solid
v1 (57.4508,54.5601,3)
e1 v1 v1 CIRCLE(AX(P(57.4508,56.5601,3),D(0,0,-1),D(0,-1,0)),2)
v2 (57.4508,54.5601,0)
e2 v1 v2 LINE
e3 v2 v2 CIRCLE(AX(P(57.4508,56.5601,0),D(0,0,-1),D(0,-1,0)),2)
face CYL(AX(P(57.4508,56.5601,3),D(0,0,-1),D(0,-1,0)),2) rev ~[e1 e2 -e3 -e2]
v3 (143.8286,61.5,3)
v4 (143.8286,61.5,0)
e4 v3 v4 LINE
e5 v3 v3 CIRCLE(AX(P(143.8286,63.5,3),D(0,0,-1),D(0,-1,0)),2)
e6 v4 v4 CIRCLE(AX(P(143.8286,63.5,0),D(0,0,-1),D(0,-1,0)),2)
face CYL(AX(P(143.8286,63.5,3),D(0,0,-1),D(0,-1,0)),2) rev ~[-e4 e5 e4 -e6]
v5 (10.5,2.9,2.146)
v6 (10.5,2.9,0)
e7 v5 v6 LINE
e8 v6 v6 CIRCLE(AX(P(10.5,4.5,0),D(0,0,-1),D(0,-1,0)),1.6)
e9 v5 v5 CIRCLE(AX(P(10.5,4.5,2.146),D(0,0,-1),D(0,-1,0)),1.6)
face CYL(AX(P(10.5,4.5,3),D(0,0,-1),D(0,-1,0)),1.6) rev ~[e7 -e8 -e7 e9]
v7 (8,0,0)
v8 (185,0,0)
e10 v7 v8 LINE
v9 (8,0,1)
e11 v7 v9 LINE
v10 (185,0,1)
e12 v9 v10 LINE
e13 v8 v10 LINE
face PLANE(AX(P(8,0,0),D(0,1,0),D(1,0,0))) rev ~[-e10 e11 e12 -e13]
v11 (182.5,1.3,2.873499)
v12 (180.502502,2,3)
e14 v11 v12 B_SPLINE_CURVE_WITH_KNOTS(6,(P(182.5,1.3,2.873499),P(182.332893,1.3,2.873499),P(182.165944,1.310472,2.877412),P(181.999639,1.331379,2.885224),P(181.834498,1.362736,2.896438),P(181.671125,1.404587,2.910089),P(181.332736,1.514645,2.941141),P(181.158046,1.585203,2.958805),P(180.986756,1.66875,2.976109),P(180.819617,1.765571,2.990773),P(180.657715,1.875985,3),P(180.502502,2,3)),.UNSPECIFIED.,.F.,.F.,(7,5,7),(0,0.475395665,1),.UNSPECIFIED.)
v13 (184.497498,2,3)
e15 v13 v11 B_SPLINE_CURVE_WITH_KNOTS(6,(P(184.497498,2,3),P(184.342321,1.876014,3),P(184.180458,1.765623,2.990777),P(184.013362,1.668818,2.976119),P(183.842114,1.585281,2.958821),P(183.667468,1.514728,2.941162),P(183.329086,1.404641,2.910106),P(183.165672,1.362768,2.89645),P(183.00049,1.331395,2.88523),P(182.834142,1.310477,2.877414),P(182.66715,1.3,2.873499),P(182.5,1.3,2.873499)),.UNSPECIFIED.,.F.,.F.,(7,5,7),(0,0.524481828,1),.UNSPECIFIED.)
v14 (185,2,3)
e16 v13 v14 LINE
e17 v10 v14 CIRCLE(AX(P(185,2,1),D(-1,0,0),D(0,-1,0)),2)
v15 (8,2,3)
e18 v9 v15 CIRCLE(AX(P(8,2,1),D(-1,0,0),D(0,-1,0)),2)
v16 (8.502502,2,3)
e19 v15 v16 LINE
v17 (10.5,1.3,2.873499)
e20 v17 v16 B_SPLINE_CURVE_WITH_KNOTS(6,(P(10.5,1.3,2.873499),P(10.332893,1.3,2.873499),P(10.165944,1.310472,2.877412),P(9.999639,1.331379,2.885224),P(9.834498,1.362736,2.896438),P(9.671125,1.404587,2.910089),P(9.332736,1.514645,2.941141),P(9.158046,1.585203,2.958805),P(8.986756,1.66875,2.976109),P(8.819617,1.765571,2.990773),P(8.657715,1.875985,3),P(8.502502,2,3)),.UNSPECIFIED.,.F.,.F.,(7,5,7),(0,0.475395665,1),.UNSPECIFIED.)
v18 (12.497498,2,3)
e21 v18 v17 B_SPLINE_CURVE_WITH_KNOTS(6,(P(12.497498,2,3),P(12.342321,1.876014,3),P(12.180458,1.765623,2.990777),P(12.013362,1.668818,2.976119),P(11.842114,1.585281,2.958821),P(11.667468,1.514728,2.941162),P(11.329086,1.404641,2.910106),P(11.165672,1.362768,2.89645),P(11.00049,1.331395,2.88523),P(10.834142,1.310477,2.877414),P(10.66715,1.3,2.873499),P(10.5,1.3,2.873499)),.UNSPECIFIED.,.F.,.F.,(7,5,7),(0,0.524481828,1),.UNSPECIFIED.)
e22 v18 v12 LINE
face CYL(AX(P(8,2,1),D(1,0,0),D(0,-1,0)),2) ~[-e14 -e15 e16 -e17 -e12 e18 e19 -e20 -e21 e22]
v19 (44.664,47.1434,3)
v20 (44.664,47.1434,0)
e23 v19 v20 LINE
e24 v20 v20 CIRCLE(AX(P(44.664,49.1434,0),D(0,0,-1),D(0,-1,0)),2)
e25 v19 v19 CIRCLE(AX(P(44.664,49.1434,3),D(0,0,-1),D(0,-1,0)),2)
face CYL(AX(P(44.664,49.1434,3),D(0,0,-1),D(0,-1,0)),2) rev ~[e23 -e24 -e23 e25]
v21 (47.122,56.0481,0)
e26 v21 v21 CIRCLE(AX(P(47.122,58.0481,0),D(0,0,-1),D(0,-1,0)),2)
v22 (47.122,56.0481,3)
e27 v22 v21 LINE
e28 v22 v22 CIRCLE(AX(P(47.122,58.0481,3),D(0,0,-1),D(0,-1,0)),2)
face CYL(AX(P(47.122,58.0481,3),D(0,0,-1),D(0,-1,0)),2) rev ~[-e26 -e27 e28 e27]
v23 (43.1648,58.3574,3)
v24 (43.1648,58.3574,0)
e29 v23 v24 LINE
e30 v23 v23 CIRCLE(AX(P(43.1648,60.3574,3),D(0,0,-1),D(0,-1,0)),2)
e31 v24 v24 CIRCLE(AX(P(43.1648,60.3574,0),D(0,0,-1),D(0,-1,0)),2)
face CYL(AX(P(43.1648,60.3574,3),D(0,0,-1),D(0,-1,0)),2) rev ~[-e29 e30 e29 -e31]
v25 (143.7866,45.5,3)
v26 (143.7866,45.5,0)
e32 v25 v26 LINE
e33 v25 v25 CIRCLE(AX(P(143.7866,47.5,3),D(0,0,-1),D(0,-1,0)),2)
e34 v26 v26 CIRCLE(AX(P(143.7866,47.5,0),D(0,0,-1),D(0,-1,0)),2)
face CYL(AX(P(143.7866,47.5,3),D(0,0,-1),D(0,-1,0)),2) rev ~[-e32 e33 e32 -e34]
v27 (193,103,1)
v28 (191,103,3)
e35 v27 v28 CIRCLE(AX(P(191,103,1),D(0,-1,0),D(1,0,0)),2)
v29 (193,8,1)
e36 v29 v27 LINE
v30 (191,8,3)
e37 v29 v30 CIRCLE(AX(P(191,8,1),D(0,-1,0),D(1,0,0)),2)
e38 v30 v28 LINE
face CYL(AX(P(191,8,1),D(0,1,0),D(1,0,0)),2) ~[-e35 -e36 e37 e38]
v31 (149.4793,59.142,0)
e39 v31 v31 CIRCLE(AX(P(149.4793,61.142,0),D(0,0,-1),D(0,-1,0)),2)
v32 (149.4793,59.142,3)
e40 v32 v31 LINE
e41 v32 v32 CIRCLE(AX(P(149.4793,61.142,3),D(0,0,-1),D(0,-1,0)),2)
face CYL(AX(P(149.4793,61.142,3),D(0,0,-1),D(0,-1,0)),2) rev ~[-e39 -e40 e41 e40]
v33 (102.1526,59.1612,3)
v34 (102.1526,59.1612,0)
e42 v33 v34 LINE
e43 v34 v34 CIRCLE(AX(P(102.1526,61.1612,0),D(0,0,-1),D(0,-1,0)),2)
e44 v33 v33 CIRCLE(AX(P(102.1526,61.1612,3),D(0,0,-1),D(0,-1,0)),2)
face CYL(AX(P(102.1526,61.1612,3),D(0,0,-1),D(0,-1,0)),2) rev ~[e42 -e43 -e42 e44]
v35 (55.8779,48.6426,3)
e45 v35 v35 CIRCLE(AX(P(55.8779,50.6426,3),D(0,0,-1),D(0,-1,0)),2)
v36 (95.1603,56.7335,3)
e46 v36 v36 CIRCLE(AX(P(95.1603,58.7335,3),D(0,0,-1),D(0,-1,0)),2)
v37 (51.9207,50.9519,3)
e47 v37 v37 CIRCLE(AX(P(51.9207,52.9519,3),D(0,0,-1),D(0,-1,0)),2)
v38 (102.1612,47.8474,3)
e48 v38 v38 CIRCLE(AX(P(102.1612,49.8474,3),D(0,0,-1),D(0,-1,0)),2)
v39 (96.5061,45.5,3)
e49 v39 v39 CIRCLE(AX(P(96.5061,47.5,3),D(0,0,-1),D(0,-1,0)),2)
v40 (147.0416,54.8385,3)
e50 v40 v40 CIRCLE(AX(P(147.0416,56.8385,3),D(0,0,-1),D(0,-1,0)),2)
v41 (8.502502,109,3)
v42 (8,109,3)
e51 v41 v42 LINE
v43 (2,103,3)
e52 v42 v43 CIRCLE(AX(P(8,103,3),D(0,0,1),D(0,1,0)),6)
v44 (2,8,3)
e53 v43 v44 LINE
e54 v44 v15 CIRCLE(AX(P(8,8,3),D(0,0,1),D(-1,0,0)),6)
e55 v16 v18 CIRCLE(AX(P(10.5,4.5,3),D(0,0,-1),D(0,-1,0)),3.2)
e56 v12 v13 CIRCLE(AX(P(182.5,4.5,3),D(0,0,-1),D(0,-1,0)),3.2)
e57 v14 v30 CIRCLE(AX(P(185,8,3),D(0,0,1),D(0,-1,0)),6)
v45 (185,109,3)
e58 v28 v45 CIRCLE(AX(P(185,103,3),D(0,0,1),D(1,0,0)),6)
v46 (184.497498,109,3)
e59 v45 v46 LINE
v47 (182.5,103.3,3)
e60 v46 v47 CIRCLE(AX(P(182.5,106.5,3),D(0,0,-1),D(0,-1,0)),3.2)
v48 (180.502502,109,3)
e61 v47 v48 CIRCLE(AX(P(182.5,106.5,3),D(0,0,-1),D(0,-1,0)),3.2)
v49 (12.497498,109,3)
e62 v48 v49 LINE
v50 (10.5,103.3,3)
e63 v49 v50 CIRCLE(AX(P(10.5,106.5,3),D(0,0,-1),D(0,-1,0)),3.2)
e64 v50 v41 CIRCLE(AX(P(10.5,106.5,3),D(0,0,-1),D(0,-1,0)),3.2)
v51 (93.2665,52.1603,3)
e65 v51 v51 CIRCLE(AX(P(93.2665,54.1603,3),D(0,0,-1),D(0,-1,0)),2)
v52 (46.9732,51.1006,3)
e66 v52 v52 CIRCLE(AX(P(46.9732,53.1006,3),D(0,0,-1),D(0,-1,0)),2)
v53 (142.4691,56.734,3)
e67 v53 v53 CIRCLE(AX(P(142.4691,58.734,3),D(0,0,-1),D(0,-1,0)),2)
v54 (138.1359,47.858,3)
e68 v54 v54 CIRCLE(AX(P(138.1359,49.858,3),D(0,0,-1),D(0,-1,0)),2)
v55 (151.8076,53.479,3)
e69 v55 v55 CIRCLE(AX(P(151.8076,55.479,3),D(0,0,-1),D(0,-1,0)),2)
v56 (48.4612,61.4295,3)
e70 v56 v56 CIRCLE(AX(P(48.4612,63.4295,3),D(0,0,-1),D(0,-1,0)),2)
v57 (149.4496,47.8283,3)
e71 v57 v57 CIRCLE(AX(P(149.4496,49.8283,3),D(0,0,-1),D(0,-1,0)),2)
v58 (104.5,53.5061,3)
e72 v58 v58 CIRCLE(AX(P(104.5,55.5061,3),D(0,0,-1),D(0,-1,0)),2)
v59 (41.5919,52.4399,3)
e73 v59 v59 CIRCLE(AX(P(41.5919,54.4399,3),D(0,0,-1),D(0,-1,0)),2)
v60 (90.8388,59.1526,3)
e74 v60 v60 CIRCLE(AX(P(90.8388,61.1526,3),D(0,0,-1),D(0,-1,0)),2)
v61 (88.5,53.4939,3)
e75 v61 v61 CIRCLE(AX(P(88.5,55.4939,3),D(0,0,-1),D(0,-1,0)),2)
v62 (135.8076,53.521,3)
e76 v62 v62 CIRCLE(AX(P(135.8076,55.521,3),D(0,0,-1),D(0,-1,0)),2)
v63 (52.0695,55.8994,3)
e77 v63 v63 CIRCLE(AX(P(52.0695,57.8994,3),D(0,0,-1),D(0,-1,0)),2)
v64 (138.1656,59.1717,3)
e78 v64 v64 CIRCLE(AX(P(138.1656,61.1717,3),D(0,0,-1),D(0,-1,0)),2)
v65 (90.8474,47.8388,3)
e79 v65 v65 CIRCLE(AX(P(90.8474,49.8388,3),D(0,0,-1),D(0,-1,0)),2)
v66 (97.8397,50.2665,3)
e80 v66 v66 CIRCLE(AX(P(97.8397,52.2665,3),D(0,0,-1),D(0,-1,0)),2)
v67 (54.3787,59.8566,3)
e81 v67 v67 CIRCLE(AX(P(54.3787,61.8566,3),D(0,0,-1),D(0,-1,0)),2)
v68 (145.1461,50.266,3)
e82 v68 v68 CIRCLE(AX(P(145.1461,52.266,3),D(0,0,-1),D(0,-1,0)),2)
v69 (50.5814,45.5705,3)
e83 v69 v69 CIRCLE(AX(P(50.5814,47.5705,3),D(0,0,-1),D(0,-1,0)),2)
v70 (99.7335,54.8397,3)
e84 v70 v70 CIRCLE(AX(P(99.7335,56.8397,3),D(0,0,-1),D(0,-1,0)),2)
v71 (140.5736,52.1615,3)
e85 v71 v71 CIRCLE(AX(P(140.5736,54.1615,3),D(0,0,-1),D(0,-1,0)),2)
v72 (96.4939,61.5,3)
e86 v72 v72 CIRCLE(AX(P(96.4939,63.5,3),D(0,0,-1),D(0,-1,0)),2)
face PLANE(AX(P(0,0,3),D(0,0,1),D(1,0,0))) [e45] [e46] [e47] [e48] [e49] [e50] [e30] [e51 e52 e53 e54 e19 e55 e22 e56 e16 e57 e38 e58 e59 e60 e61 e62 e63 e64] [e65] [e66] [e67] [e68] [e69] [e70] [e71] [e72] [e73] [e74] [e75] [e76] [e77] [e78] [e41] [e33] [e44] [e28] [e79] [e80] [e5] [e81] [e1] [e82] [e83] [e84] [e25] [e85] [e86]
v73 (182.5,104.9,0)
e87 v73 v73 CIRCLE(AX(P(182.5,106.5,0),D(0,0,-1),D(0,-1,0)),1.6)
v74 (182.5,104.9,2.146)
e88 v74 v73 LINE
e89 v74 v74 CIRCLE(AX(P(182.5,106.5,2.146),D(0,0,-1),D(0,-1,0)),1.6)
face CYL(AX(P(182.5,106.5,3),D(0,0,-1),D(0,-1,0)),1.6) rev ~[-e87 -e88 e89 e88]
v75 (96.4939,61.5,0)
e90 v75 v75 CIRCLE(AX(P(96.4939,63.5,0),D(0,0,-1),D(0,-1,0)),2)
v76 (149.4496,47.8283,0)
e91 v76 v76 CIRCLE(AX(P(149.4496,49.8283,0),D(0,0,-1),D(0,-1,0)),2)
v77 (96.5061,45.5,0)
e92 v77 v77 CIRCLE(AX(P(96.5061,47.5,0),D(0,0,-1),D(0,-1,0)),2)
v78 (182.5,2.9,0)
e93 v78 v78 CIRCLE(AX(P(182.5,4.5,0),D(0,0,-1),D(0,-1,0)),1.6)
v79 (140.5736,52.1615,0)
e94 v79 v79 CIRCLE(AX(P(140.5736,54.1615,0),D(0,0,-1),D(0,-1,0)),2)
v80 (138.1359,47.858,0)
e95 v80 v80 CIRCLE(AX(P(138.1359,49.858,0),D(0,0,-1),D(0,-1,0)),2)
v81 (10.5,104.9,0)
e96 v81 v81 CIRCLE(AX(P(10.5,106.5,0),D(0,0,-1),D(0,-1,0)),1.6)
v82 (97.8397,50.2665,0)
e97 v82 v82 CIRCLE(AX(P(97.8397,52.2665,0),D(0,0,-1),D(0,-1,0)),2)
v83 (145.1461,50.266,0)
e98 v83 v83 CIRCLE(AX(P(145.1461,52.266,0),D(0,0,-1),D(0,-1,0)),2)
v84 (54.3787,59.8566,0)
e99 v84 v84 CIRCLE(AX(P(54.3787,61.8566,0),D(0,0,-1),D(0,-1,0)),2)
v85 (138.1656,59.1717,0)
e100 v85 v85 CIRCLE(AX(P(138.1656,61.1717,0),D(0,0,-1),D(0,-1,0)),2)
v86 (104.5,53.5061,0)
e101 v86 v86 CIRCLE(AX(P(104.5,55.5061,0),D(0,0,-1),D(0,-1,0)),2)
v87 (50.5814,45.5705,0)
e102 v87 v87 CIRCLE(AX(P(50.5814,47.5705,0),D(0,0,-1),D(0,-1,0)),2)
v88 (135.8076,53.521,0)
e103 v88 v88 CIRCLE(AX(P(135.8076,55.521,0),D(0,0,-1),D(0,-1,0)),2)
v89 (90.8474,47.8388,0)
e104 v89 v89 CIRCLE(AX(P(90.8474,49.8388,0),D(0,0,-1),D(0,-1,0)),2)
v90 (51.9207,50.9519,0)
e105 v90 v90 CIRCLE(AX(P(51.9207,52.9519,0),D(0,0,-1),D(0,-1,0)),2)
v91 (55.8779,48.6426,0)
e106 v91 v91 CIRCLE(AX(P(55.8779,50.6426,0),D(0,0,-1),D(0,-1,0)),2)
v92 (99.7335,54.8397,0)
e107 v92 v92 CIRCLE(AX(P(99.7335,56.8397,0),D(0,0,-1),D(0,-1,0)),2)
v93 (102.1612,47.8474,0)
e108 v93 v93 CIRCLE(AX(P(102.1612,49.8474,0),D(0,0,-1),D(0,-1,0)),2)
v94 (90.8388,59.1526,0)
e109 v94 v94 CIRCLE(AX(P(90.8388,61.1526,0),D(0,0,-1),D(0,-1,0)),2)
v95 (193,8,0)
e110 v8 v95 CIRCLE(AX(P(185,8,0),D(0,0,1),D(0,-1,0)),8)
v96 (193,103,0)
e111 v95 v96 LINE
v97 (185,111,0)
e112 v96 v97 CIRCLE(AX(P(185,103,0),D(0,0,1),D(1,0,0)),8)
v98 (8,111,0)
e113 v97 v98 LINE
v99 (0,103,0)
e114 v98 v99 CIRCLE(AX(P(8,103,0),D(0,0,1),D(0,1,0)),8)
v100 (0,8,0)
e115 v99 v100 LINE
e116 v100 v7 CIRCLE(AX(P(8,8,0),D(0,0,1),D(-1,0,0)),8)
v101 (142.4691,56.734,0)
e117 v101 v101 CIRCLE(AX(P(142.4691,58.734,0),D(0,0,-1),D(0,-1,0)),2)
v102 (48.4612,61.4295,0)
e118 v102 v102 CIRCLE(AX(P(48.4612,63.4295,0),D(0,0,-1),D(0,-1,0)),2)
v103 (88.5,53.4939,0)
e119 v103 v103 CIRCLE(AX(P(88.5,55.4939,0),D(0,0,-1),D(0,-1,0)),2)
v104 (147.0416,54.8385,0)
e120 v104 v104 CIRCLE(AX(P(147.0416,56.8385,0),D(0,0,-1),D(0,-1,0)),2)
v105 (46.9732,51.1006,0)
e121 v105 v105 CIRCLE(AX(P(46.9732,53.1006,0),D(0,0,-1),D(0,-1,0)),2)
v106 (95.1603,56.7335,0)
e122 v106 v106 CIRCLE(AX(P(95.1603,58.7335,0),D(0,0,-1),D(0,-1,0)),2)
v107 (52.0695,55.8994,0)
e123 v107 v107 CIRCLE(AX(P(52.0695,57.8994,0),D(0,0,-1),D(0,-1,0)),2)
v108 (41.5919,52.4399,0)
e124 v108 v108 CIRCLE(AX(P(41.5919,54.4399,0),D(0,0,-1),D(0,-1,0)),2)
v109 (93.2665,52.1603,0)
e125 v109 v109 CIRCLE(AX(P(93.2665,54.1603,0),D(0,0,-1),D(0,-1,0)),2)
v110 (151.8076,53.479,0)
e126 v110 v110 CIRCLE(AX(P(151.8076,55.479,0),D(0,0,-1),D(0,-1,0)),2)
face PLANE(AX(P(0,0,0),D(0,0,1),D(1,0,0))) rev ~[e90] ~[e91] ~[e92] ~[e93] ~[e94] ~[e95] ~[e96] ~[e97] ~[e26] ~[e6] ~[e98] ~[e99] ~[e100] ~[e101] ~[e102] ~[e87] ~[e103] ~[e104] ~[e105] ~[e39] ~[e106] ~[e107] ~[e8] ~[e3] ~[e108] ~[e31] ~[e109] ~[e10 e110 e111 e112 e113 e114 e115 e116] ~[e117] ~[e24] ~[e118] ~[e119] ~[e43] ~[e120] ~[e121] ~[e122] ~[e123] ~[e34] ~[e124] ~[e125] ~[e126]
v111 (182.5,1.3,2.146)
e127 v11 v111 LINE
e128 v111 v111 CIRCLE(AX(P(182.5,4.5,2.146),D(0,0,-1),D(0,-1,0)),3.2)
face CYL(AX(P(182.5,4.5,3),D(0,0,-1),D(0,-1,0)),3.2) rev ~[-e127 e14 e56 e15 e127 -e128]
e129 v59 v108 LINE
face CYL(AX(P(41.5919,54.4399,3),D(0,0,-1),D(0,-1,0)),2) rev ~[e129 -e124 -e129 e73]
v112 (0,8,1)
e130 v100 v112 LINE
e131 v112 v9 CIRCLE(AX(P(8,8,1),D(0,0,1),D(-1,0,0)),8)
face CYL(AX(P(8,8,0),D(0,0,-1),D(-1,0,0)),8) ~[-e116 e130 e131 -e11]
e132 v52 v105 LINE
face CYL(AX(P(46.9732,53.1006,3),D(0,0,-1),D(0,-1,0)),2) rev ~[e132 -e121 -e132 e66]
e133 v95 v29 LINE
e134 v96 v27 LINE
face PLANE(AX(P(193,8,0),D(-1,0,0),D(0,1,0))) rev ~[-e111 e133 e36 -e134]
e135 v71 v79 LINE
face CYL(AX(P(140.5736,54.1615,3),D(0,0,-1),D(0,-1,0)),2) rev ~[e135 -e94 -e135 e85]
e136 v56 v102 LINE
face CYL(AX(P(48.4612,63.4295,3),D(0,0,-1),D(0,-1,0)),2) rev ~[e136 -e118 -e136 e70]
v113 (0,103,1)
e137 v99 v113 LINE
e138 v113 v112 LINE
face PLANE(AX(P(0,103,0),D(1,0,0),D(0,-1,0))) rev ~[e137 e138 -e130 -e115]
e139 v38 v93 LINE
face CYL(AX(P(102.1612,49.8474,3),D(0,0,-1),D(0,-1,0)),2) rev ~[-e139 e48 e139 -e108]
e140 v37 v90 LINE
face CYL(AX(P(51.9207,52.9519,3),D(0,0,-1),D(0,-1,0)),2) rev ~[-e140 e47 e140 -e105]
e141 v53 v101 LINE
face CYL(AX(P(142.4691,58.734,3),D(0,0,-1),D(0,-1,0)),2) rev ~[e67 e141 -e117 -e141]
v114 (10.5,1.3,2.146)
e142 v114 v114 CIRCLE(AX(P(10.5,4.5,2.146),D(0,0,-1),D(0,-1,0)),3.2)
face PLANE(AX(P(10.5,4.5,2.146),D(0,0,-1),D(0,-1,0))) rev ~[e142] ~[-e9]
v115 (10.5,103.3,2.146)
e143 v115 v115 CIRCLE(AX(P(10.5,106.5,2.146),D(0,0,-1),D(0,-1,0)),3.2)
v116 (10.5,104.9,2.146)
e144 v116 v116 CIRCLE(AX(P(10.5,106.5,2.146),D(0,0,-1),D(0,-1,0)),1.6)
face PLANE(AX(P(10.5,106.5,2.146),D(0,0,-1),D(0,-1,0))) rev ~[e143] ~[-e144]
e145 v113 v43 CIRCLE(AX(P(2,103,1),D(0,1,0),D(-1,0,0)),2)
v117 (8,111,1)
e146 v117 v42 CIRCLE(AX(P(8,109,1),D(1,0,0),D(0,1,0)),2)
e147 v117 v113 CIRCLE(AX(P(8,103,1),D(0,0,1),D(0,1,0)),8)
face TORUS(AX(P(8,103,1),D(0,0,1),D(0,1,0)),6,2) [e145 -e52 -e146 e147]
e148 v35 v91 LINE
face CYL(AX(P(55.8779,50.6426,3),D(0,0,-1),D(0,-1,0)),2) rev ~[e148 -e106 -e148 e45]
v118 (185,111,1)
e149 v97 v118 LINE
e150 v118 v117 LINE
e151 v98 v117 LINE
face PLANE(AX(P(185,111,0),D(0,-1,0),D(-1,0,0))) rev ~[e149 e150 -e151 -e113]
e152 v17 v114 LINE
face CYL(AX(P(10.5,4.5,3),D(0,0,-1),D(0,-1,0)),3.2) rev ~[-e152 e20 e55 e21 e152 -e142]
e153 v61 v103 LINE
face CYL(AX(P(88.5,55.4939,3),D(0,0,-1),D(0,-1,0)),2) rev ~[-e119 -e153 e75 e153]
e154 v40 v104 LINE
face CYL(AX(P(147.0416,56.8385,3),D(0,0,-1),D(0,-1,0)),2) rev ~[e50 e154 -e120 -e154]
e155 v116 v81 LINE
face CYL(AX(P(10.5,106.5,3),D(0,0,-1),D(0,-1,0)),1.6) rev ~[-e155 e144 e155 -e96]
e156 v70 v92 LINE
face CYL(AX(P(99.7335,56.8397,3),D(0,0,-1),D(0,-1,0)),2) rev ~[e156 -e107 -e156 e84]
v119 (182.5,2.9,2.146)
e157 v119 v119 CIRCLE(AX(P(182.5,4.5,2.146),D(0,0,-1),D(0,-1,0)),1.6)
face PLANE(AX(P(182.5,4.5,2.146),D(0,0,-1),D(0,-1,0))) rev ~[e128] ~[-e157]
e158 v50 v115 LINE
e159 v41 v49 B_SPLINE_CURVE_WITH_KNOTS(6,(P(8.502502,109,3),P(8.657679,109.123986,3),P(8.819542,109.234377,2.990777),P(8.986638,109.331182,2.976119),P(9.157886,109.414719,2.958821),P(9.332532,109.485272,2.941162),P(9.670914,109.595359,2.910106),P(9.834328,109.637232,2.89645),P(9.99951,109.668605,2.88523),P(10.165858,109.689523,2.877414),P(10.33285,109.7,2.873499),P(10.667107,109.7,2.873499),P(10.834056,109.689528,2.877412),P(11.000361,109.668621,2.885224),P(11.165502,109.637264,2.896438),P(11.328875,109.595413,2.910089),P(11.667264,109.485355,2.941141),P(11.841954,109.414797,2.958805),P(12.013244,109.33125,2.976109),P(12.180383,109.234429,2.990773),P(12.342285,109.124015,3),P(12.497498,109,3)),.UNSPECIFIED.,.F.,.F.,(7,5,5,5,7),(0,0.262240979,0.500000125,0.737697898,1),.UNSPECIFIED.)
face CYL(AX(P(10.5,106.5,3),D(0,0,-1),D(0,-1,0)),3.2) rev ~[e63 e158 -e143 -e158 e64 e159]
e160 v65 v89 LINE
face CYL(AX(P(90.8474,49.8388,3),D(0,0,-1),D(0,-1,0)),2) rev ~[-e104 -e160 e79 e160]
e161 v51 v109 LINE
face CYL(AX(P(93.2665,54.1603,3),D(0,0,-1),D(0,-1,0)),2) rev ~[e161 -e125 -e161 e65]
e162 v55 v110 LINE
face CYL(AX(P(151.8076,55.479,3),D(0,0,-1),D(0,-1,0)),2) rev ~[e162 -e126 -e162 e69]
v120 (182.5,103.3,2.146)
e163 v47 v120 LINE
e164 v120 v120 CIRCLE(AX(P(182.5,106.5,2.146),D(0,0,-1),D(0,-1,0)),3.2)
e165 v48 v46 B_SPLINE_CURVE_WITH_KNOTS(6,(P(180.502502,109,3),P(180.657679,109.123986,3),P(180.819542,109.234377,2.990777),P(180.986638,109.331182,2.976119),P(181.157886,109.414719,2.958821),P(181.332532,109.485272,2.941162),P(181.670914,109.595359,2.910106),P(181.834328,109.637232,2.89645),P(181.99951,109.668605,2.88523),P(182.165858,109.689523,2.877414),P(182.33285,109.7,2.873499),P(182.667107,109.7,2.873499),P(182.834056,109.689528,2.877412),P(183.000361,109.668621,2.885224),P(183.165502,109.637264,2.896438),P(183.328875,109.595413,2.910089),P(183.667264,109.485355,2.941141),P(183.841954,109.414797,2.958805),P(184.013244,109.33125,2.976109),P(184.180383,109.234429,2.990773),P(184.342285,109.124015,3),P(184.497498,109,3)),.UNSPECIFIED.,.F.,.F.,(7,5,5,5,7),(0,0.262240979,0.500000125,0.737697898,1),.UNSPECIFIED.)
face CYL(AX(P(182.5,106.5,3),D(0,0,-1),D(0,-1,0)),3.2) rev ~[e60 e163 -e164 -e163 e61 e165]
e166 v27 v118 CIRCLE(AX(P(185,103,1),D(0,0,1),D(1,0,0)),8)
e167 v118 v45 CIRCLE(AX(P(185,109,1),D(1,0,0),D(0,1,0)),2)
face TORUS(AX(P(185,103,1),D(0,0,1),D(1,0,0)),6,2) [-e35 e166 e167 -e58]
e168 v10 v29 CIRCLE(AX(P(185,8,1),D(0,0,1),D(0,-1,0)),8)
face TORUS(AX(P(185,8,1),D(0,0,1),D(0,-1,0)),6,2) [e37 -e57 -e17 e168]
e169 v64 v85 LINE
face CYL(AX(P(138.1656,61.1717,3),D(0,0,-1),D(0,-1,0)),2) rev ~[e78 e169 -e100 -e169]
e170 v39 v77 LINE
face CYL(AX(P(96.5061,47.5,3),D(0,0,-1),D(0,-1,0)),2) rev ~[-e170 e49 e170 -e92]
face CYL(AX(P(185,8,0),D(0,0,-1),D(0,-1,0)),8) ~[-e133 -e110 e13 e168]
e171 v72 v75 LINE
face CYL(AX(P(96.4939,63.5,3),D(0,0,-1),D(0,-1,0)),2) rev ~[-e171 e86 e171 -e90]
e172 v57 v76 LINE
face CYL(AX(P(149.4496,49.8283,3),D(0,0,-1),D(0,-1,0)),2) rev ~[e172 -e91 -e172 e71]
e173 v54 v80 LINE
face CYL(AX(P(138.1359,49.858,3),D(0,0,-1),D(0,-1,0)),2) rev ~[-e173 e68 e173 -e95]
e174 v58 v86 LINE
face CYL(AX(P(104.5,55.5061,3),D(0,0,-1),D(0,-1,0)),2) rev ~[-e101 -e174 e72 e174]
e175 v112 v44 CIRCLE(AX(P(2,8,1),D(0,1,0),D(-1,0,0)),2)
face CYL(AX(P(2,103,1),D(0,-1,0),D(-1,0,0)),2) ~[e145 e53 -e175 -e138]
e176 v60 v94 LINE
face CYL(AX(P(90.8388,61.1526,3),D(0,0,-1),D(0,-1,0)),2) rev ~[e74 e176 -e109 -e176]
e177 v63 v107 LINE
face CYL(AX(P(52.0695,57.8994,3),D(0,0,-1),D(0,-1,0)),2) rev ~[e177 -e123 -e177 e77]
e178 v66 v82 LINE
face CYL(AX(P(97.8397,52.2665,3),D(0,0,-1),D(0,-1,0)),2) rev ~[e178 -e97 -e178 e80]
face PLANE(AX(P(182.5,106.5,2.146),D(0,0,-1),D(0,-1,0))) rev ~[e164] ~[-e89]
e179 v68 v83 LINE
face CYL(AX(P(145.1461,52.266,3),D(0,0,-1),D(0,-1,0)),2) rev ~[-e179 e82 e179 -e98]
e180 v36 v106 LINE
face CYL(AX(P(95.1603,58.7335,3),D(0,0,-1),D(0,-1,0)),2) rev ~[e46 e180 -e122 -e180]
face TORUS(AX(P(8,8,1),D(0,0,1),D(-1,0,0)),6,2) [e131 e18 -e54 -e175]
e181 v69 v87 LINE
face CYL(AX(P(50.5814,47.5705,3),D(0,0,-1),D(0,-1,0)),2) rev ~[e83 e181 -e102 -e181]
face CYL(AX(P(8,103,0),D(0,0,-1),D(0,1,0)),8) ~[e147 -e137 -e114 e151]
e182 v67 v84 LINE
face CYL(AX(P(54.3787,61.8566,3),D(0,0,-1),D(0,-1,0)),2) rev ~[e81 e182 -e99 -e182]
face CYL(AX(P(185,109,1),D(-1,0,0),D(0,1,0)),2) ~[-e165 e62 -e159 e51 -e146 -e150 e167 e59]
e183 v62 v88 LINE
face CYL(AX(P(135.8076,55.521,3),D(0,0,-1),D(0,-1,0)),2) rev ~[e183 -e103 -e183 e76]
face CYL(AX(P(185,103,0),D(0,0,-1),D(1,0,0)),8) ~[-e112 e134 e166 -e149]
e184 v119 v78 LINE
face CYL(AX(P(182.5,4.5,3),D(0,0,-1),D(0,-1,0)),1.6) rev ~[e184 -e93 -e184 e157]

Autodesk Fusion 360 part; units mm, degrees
sketch "Sketch1" plane through (0, 0, 0) normal (0, 0, 1) x (1, 0, 0)
  line L0 (8, 0) -> (185, 0)
  line L1 (193, 8) -> (193, 103)
  line L2 (185, 111) -> (8, 111)
  line L3 (0, 103) -> (0, 8)
  arc A0 (8, 111) -> (0, 103) centre (8, 103) ccw
  arc A1 (193, 103) -> (185, 111) centre (185, 103) ccw
  arc A2 (185, 0) -> (193, 8) centre (185, 8) ccw
  arc A3 (0, 8) -> (8, 0) centre (8, 8) ccw
  point P0 (193, 0)
  point P1 (0, 111)
  dimension "d1" = 193
  dimension "d2" = 111
  dimension "d3" = 8
  dimension "d4" = 8
  dimension "d5" = 8
  dimension "d6" = 8
extrude "Extrude1" add sketch "Sketch1" along normal blind 3
fillet "Fillet1" radius 2 8 edges at (193, 55.5, 3) (190.6569, 108.6569, 3) (96.5, 111, 3) (2.3431, 108.6569, 3) (0, 55.5, 3) (2.3431, 2.3431, 3) (96.5, 0, 3) (190.6569, 2.3431, 3)
sketch "Sketch2" plane through (0, 0, 3) normal (0, 0, 1) x (-1, 0, 0)
  line L0 (-191, -8) -> (-191, -103)
  arc A0 (-191, -103) -> (-185, -109) centre (-185, -103) ccw
  line L1 (-185, -109) -> (-8, -109)
  arc A1 (-8, -109) -> (-2, -103) centre (-8, -103) ccw
  line L2 (-2, -103) -> (-2, -8)
  arc A2 (-2, -8) -> (-8, -2) centre (-8, -8) ccw
  line L3 (-8, -2) -> (-185, -2)
  arc A3 (-185, -2) -> (-191, -8) centre (-185, -8) ccw
  line L4 (-8, -109) -> (-13, -109)
  line L5 (-13, -109) -> (-13, -104)
  line L6 (-13, -104) -> (-8, -104)
  line L7 (-8, -104) -> (-8, -109)
  circle A4 centre (-10.5, -106.5) radius 1.6
  line L8 (-185, -109) -> (-180, -109)
  line L9 (-180, -109) -> (-180, -104)
  line L10 (-180, -104) -> (-185, -104)
  line L11 (-185, -104) -> (-185, -109)
  circle A5 centre (-182.5, -106.5) radius 1.6
  line L12 (-185, -2) -> (-180, -2)
  line L13 (-180, -2) -> (-180, -7)
  line L14 (-180, -7) -> (-185, -7)
  line L15 (-185, -7) -> (-185, -2)
  circle A6 centre (-182.5, -4.5) radius 1.6
  line L16 (-8, -2) -> (-13, -2)
  line L17 (-13, -2) -> (-13, -7)
  line L18 (-13, -7) -> (-8, -7)
  line L19 (-8, -7) -> (-8, -2)
  circle A7 centre (-10.5, -4.5) radius 1.6
  point P0 (-10.5, -106.5)
  dimension "d11" = 5
  dimension "d12" = 5
  dimension "d13" = 3.2
  dimension "d14" = 5
  dimension "d15" = 5
  dimension "d16" = 3.2
  dimension "d17" = 5
  dimension "d18" = 5
  dimension "d19" = 3.2
  dimension "d20" = 5
  dimension "d21" = 5
  dimension "d22" = 3.2
hole "Hole1" at (10.5, 4.5, 3) at (10.5, 106.5, 3) at (182.5, 106.5, 3) at (182.5, 4.5, 3) direction (0, 0, -1) diameter 3.2 depth 7 tip angle 180
sketch "Sketch3" plane through (0, 0, 3) normal (0, 0, 1) x (-1, 0, 0)
  circle A0 centre (-182.5, -106.5) radius 1.6
  circle A1 centre (-10.5, -4.5) radius 1.6
  circle A2 centre (-10.5, -106.5) radius 1.6
  circle A3 centre (-182.5, -4.5) radius 1.6
  line L0 (-191, -8) -> (-191, -103)
  arc A4 (-191, -103) -> (-185, -109) centre (-185, -103) ccw
  line L1 (-185, -109) -> (-8, -109)
  arc A5 (-8, -109) -> (-2, -103) centre (-8, -103) ccw
  line L2 (-2, -103) -> (-2, -8)
  arc A6 (-2, -8) -> (-8, -2) centre (-8, -8) ccw
  line L3 (-8, -2) -> (-185, -2)
  arc A7 (-185, -2) -> (-191, -8) centre (-185, -8) ccw
  circle A8 centre (-10.5, -106.5) radius 3.2
  circle A9 centre (-182.5, -106.5) radius 3.2
  circle A10 centre (-182.5, -4.5) radius 3.2
  circle A11 centre (-10.5, -4.5) radius 3.2
  dimension "d26" = 6.4
  dimension "d27" = 6.4
  dimension "d28" = 6.4
  dimension "d29" = 6.4
hole "Hole2" at (182.5, 4.5, 3) at (10.5, 4.5, 3) at (182.5, 106.5, 3) at (10.5, 106.5, 3) direction (0, 0, -1) diameter 6.4 depth 0.854 tip angle 180
sketch "Sketch4" plane through (0, 0, 3) normal (0, 0, 1) x (-1, 0, 0)
  arc A0 (-180.5025, -109) -> (-184.4975, -109) centre (-182.5, -106.5) ccw
  line L0 (-180.5025, -109) -> (-12.4975, -109)
  arc A1 (-8.5025, -109) -> (-12.4975, -109) centre (-10.5, -106.5) ccw
  line L1 (-8.5025, -109) -> (-8, -109)
  arc A2 (-8, -109) -> (-2, -103) centre (-8, -103) ccw
  line L2 (-2, -103) -> (-2, -8)
  arc A3 (-2, -8) -> (-8, -2) centre (-8, -8) ccw
  line L3 (-8, -2) -> (-8.5025, -2)
  arc A4 (-12.4975, -2) -> (-8.5025, -2) centre (-10.5, -4.5) ccw
  line L4 (-12.4975, -2) -> (-180.5025, -2)
  arc A5 (-184.4975, -2) -> (-180.5025, -2) centre (-182.5, -4.5) ccw
  line L5 (-184.4975, -2) -> (-185, -2)
  arc A6 (-185, -2) -> (-191, -8) centre (-185, -8) ccw
  line L6 (-191, -8) -> (-191, -103)
  arc A7 (-191, -103) -> (-185, -109) centre (-185, -103) ccw
  line L7 (-185, -109) -> (-184.4975, -109)
  circle A8 centre (-41.5919, -54.4399) radius 2
  circle A9 centre (-44.664, -49.1434) radius 2
  circle A10 centre (-50.5814, -47.5705) radius 2
  circle A11 centre (-55.8779, -50.6426) radius 2
  circle A12 centre (-57.4508, -56.5601) radius 2
  circle A13 centre (-54.3787, -61.8566) radius 2
  circle A14 centre (-48.4612, -63.4295) radius 2
  circle A15 centre (-43.1648, -60.3574) radius 2
  circle A16 centre (-46.9732, -53.1006) radius 2
  circle A17 centre (-51.9207, -52.9519) radius 2
  circle A18 centre (-52.0695, -57.8994) radius 2
  circle A19 centre (-47.122, -58.0481) radius 2
  circle A20 centre (-95.1603, -58.7335) radius 2
  circle A21 centre (-96.5061, -47.5) radius 2
  circle A22 centre (-102.1612, -49.8474) radius 2
  circle A23 centre (-96.4939, -63.5) radius 2
  circle A24 centre (-104.5, -55.5061) radius 2
  circle A25 centre (-93.2665, -54.1603) radius 2
  circle A26 centre (-99.7335, -56.8397) radius 2
  circle A27 centre (-90.8474, -49.8388) radius 2
  circle A28 centre (-90.8388, -61.1526) radius 2
  circle A29 centre (-97.8397, -52.2665) radius 2
  circle A30 centre (-102.1526, -61.1612) radius 2
  circle A31 centre (-88.5, -55.4939) radius 2
  circle A32 centre (-147.0416, -56.8385) radius 2
  circle A33 centre (-151.8076, -55.479) radius 2
  circle A34 centre (-142.4691, -58.734) radius 2
  circle A35 centre (-138.1359, -49.858) radius 2
  circle A36 centre (-138.1656, -61.1717) radius 2
  circle A37 centre (-143.8286, -63.5) radius 2
  circle A38 centre (-143.7866, -47.5) radius 2
  circle A39 centre (-149.4793, -61.142) radius 2
  circle A40 centre (-149.4496, -49.8283) radius 2
  circle A41 centre (-145.1461, -52.266) radius 2
  circle A42 centre (-135.8076, -55.521) radius 2
  circle A43 centre (-140.5736, -54.1615) radius 2
  point P0 (-49.5213, -55.5)
  point P1 (-96.5, -55.5)
  point P2 (-143.8076, -55.5)
  dimension "d33" = 8
  dimension "d34" = 4
  dimension "d37" = 360
  dimension "d40" = 3.5
  dimension "d41" = 4
  dimension "d43" = 360
  dimension "d45" = 360
  dimension "d47" = 360
  dimension "d48" = 8
  dimension "d49" = 4
  dimension "d50" = 3.5
  dimension "d51" = 4
  dimension "d55" = 360
  dimension "d57" = 360
  dimension "d58" = 8
  dimension "d59" = 4
  dimension "d60" = 3.5
  dimension "d61" = 4
hole "Hole3" at (52.0695, 57.8994, 3) at (47.122, 58.0481, 3) at (48.4612, 63.4295, 3) at (43.1648, 60.3574, 3) at (41.5919, 54.4399, 3) at (46.9732, 53.1006, 3) at (44.664, 49.1434, 3) at (55.8779, 50.6426, 3) at (51.9207, 52.9519, 3) at (50.5814, 47.5705, 3) at (57.4508, 56.5601, 3) at (54.3787, 61.8566, 3) at (96.4939, 63.5, 3) at (90.8388, 61.1526, 3) at (88.5, 55.4939, 3) at (95.1603, 58.7335, 3) at (93.2665, 54.1603, 3) at (97.8397, 52.2665, 3) at (90.8474, 49.8388, 3) at (96.5061, 47.5, 3) at (102.1612, 49.8474, 3) at (102.1526, 61.1612, 3) at (104.5, 55.5061, 3) at (99.7335, 56.8397, 3) at (142.4691, 58.734, 3) at (138.1656, 61.1717, 3) at (143.8286, 63.5, 3) at (149.4793, 61.142, 3) at (147.0416, 56.8385, 3) at (149.4496, 49.8283, 3) at (145.1461, 52.266, 3) at (151.8076, 55.479, 3) at (143.7866, 47.5, 3) at (138.1359, 49.858, 3) at (140.5736, 54.1615, 3) at (135.8076, 55.521, 3) direction (0, 0, -1) diameter 4 depth 10 tip angle 180
